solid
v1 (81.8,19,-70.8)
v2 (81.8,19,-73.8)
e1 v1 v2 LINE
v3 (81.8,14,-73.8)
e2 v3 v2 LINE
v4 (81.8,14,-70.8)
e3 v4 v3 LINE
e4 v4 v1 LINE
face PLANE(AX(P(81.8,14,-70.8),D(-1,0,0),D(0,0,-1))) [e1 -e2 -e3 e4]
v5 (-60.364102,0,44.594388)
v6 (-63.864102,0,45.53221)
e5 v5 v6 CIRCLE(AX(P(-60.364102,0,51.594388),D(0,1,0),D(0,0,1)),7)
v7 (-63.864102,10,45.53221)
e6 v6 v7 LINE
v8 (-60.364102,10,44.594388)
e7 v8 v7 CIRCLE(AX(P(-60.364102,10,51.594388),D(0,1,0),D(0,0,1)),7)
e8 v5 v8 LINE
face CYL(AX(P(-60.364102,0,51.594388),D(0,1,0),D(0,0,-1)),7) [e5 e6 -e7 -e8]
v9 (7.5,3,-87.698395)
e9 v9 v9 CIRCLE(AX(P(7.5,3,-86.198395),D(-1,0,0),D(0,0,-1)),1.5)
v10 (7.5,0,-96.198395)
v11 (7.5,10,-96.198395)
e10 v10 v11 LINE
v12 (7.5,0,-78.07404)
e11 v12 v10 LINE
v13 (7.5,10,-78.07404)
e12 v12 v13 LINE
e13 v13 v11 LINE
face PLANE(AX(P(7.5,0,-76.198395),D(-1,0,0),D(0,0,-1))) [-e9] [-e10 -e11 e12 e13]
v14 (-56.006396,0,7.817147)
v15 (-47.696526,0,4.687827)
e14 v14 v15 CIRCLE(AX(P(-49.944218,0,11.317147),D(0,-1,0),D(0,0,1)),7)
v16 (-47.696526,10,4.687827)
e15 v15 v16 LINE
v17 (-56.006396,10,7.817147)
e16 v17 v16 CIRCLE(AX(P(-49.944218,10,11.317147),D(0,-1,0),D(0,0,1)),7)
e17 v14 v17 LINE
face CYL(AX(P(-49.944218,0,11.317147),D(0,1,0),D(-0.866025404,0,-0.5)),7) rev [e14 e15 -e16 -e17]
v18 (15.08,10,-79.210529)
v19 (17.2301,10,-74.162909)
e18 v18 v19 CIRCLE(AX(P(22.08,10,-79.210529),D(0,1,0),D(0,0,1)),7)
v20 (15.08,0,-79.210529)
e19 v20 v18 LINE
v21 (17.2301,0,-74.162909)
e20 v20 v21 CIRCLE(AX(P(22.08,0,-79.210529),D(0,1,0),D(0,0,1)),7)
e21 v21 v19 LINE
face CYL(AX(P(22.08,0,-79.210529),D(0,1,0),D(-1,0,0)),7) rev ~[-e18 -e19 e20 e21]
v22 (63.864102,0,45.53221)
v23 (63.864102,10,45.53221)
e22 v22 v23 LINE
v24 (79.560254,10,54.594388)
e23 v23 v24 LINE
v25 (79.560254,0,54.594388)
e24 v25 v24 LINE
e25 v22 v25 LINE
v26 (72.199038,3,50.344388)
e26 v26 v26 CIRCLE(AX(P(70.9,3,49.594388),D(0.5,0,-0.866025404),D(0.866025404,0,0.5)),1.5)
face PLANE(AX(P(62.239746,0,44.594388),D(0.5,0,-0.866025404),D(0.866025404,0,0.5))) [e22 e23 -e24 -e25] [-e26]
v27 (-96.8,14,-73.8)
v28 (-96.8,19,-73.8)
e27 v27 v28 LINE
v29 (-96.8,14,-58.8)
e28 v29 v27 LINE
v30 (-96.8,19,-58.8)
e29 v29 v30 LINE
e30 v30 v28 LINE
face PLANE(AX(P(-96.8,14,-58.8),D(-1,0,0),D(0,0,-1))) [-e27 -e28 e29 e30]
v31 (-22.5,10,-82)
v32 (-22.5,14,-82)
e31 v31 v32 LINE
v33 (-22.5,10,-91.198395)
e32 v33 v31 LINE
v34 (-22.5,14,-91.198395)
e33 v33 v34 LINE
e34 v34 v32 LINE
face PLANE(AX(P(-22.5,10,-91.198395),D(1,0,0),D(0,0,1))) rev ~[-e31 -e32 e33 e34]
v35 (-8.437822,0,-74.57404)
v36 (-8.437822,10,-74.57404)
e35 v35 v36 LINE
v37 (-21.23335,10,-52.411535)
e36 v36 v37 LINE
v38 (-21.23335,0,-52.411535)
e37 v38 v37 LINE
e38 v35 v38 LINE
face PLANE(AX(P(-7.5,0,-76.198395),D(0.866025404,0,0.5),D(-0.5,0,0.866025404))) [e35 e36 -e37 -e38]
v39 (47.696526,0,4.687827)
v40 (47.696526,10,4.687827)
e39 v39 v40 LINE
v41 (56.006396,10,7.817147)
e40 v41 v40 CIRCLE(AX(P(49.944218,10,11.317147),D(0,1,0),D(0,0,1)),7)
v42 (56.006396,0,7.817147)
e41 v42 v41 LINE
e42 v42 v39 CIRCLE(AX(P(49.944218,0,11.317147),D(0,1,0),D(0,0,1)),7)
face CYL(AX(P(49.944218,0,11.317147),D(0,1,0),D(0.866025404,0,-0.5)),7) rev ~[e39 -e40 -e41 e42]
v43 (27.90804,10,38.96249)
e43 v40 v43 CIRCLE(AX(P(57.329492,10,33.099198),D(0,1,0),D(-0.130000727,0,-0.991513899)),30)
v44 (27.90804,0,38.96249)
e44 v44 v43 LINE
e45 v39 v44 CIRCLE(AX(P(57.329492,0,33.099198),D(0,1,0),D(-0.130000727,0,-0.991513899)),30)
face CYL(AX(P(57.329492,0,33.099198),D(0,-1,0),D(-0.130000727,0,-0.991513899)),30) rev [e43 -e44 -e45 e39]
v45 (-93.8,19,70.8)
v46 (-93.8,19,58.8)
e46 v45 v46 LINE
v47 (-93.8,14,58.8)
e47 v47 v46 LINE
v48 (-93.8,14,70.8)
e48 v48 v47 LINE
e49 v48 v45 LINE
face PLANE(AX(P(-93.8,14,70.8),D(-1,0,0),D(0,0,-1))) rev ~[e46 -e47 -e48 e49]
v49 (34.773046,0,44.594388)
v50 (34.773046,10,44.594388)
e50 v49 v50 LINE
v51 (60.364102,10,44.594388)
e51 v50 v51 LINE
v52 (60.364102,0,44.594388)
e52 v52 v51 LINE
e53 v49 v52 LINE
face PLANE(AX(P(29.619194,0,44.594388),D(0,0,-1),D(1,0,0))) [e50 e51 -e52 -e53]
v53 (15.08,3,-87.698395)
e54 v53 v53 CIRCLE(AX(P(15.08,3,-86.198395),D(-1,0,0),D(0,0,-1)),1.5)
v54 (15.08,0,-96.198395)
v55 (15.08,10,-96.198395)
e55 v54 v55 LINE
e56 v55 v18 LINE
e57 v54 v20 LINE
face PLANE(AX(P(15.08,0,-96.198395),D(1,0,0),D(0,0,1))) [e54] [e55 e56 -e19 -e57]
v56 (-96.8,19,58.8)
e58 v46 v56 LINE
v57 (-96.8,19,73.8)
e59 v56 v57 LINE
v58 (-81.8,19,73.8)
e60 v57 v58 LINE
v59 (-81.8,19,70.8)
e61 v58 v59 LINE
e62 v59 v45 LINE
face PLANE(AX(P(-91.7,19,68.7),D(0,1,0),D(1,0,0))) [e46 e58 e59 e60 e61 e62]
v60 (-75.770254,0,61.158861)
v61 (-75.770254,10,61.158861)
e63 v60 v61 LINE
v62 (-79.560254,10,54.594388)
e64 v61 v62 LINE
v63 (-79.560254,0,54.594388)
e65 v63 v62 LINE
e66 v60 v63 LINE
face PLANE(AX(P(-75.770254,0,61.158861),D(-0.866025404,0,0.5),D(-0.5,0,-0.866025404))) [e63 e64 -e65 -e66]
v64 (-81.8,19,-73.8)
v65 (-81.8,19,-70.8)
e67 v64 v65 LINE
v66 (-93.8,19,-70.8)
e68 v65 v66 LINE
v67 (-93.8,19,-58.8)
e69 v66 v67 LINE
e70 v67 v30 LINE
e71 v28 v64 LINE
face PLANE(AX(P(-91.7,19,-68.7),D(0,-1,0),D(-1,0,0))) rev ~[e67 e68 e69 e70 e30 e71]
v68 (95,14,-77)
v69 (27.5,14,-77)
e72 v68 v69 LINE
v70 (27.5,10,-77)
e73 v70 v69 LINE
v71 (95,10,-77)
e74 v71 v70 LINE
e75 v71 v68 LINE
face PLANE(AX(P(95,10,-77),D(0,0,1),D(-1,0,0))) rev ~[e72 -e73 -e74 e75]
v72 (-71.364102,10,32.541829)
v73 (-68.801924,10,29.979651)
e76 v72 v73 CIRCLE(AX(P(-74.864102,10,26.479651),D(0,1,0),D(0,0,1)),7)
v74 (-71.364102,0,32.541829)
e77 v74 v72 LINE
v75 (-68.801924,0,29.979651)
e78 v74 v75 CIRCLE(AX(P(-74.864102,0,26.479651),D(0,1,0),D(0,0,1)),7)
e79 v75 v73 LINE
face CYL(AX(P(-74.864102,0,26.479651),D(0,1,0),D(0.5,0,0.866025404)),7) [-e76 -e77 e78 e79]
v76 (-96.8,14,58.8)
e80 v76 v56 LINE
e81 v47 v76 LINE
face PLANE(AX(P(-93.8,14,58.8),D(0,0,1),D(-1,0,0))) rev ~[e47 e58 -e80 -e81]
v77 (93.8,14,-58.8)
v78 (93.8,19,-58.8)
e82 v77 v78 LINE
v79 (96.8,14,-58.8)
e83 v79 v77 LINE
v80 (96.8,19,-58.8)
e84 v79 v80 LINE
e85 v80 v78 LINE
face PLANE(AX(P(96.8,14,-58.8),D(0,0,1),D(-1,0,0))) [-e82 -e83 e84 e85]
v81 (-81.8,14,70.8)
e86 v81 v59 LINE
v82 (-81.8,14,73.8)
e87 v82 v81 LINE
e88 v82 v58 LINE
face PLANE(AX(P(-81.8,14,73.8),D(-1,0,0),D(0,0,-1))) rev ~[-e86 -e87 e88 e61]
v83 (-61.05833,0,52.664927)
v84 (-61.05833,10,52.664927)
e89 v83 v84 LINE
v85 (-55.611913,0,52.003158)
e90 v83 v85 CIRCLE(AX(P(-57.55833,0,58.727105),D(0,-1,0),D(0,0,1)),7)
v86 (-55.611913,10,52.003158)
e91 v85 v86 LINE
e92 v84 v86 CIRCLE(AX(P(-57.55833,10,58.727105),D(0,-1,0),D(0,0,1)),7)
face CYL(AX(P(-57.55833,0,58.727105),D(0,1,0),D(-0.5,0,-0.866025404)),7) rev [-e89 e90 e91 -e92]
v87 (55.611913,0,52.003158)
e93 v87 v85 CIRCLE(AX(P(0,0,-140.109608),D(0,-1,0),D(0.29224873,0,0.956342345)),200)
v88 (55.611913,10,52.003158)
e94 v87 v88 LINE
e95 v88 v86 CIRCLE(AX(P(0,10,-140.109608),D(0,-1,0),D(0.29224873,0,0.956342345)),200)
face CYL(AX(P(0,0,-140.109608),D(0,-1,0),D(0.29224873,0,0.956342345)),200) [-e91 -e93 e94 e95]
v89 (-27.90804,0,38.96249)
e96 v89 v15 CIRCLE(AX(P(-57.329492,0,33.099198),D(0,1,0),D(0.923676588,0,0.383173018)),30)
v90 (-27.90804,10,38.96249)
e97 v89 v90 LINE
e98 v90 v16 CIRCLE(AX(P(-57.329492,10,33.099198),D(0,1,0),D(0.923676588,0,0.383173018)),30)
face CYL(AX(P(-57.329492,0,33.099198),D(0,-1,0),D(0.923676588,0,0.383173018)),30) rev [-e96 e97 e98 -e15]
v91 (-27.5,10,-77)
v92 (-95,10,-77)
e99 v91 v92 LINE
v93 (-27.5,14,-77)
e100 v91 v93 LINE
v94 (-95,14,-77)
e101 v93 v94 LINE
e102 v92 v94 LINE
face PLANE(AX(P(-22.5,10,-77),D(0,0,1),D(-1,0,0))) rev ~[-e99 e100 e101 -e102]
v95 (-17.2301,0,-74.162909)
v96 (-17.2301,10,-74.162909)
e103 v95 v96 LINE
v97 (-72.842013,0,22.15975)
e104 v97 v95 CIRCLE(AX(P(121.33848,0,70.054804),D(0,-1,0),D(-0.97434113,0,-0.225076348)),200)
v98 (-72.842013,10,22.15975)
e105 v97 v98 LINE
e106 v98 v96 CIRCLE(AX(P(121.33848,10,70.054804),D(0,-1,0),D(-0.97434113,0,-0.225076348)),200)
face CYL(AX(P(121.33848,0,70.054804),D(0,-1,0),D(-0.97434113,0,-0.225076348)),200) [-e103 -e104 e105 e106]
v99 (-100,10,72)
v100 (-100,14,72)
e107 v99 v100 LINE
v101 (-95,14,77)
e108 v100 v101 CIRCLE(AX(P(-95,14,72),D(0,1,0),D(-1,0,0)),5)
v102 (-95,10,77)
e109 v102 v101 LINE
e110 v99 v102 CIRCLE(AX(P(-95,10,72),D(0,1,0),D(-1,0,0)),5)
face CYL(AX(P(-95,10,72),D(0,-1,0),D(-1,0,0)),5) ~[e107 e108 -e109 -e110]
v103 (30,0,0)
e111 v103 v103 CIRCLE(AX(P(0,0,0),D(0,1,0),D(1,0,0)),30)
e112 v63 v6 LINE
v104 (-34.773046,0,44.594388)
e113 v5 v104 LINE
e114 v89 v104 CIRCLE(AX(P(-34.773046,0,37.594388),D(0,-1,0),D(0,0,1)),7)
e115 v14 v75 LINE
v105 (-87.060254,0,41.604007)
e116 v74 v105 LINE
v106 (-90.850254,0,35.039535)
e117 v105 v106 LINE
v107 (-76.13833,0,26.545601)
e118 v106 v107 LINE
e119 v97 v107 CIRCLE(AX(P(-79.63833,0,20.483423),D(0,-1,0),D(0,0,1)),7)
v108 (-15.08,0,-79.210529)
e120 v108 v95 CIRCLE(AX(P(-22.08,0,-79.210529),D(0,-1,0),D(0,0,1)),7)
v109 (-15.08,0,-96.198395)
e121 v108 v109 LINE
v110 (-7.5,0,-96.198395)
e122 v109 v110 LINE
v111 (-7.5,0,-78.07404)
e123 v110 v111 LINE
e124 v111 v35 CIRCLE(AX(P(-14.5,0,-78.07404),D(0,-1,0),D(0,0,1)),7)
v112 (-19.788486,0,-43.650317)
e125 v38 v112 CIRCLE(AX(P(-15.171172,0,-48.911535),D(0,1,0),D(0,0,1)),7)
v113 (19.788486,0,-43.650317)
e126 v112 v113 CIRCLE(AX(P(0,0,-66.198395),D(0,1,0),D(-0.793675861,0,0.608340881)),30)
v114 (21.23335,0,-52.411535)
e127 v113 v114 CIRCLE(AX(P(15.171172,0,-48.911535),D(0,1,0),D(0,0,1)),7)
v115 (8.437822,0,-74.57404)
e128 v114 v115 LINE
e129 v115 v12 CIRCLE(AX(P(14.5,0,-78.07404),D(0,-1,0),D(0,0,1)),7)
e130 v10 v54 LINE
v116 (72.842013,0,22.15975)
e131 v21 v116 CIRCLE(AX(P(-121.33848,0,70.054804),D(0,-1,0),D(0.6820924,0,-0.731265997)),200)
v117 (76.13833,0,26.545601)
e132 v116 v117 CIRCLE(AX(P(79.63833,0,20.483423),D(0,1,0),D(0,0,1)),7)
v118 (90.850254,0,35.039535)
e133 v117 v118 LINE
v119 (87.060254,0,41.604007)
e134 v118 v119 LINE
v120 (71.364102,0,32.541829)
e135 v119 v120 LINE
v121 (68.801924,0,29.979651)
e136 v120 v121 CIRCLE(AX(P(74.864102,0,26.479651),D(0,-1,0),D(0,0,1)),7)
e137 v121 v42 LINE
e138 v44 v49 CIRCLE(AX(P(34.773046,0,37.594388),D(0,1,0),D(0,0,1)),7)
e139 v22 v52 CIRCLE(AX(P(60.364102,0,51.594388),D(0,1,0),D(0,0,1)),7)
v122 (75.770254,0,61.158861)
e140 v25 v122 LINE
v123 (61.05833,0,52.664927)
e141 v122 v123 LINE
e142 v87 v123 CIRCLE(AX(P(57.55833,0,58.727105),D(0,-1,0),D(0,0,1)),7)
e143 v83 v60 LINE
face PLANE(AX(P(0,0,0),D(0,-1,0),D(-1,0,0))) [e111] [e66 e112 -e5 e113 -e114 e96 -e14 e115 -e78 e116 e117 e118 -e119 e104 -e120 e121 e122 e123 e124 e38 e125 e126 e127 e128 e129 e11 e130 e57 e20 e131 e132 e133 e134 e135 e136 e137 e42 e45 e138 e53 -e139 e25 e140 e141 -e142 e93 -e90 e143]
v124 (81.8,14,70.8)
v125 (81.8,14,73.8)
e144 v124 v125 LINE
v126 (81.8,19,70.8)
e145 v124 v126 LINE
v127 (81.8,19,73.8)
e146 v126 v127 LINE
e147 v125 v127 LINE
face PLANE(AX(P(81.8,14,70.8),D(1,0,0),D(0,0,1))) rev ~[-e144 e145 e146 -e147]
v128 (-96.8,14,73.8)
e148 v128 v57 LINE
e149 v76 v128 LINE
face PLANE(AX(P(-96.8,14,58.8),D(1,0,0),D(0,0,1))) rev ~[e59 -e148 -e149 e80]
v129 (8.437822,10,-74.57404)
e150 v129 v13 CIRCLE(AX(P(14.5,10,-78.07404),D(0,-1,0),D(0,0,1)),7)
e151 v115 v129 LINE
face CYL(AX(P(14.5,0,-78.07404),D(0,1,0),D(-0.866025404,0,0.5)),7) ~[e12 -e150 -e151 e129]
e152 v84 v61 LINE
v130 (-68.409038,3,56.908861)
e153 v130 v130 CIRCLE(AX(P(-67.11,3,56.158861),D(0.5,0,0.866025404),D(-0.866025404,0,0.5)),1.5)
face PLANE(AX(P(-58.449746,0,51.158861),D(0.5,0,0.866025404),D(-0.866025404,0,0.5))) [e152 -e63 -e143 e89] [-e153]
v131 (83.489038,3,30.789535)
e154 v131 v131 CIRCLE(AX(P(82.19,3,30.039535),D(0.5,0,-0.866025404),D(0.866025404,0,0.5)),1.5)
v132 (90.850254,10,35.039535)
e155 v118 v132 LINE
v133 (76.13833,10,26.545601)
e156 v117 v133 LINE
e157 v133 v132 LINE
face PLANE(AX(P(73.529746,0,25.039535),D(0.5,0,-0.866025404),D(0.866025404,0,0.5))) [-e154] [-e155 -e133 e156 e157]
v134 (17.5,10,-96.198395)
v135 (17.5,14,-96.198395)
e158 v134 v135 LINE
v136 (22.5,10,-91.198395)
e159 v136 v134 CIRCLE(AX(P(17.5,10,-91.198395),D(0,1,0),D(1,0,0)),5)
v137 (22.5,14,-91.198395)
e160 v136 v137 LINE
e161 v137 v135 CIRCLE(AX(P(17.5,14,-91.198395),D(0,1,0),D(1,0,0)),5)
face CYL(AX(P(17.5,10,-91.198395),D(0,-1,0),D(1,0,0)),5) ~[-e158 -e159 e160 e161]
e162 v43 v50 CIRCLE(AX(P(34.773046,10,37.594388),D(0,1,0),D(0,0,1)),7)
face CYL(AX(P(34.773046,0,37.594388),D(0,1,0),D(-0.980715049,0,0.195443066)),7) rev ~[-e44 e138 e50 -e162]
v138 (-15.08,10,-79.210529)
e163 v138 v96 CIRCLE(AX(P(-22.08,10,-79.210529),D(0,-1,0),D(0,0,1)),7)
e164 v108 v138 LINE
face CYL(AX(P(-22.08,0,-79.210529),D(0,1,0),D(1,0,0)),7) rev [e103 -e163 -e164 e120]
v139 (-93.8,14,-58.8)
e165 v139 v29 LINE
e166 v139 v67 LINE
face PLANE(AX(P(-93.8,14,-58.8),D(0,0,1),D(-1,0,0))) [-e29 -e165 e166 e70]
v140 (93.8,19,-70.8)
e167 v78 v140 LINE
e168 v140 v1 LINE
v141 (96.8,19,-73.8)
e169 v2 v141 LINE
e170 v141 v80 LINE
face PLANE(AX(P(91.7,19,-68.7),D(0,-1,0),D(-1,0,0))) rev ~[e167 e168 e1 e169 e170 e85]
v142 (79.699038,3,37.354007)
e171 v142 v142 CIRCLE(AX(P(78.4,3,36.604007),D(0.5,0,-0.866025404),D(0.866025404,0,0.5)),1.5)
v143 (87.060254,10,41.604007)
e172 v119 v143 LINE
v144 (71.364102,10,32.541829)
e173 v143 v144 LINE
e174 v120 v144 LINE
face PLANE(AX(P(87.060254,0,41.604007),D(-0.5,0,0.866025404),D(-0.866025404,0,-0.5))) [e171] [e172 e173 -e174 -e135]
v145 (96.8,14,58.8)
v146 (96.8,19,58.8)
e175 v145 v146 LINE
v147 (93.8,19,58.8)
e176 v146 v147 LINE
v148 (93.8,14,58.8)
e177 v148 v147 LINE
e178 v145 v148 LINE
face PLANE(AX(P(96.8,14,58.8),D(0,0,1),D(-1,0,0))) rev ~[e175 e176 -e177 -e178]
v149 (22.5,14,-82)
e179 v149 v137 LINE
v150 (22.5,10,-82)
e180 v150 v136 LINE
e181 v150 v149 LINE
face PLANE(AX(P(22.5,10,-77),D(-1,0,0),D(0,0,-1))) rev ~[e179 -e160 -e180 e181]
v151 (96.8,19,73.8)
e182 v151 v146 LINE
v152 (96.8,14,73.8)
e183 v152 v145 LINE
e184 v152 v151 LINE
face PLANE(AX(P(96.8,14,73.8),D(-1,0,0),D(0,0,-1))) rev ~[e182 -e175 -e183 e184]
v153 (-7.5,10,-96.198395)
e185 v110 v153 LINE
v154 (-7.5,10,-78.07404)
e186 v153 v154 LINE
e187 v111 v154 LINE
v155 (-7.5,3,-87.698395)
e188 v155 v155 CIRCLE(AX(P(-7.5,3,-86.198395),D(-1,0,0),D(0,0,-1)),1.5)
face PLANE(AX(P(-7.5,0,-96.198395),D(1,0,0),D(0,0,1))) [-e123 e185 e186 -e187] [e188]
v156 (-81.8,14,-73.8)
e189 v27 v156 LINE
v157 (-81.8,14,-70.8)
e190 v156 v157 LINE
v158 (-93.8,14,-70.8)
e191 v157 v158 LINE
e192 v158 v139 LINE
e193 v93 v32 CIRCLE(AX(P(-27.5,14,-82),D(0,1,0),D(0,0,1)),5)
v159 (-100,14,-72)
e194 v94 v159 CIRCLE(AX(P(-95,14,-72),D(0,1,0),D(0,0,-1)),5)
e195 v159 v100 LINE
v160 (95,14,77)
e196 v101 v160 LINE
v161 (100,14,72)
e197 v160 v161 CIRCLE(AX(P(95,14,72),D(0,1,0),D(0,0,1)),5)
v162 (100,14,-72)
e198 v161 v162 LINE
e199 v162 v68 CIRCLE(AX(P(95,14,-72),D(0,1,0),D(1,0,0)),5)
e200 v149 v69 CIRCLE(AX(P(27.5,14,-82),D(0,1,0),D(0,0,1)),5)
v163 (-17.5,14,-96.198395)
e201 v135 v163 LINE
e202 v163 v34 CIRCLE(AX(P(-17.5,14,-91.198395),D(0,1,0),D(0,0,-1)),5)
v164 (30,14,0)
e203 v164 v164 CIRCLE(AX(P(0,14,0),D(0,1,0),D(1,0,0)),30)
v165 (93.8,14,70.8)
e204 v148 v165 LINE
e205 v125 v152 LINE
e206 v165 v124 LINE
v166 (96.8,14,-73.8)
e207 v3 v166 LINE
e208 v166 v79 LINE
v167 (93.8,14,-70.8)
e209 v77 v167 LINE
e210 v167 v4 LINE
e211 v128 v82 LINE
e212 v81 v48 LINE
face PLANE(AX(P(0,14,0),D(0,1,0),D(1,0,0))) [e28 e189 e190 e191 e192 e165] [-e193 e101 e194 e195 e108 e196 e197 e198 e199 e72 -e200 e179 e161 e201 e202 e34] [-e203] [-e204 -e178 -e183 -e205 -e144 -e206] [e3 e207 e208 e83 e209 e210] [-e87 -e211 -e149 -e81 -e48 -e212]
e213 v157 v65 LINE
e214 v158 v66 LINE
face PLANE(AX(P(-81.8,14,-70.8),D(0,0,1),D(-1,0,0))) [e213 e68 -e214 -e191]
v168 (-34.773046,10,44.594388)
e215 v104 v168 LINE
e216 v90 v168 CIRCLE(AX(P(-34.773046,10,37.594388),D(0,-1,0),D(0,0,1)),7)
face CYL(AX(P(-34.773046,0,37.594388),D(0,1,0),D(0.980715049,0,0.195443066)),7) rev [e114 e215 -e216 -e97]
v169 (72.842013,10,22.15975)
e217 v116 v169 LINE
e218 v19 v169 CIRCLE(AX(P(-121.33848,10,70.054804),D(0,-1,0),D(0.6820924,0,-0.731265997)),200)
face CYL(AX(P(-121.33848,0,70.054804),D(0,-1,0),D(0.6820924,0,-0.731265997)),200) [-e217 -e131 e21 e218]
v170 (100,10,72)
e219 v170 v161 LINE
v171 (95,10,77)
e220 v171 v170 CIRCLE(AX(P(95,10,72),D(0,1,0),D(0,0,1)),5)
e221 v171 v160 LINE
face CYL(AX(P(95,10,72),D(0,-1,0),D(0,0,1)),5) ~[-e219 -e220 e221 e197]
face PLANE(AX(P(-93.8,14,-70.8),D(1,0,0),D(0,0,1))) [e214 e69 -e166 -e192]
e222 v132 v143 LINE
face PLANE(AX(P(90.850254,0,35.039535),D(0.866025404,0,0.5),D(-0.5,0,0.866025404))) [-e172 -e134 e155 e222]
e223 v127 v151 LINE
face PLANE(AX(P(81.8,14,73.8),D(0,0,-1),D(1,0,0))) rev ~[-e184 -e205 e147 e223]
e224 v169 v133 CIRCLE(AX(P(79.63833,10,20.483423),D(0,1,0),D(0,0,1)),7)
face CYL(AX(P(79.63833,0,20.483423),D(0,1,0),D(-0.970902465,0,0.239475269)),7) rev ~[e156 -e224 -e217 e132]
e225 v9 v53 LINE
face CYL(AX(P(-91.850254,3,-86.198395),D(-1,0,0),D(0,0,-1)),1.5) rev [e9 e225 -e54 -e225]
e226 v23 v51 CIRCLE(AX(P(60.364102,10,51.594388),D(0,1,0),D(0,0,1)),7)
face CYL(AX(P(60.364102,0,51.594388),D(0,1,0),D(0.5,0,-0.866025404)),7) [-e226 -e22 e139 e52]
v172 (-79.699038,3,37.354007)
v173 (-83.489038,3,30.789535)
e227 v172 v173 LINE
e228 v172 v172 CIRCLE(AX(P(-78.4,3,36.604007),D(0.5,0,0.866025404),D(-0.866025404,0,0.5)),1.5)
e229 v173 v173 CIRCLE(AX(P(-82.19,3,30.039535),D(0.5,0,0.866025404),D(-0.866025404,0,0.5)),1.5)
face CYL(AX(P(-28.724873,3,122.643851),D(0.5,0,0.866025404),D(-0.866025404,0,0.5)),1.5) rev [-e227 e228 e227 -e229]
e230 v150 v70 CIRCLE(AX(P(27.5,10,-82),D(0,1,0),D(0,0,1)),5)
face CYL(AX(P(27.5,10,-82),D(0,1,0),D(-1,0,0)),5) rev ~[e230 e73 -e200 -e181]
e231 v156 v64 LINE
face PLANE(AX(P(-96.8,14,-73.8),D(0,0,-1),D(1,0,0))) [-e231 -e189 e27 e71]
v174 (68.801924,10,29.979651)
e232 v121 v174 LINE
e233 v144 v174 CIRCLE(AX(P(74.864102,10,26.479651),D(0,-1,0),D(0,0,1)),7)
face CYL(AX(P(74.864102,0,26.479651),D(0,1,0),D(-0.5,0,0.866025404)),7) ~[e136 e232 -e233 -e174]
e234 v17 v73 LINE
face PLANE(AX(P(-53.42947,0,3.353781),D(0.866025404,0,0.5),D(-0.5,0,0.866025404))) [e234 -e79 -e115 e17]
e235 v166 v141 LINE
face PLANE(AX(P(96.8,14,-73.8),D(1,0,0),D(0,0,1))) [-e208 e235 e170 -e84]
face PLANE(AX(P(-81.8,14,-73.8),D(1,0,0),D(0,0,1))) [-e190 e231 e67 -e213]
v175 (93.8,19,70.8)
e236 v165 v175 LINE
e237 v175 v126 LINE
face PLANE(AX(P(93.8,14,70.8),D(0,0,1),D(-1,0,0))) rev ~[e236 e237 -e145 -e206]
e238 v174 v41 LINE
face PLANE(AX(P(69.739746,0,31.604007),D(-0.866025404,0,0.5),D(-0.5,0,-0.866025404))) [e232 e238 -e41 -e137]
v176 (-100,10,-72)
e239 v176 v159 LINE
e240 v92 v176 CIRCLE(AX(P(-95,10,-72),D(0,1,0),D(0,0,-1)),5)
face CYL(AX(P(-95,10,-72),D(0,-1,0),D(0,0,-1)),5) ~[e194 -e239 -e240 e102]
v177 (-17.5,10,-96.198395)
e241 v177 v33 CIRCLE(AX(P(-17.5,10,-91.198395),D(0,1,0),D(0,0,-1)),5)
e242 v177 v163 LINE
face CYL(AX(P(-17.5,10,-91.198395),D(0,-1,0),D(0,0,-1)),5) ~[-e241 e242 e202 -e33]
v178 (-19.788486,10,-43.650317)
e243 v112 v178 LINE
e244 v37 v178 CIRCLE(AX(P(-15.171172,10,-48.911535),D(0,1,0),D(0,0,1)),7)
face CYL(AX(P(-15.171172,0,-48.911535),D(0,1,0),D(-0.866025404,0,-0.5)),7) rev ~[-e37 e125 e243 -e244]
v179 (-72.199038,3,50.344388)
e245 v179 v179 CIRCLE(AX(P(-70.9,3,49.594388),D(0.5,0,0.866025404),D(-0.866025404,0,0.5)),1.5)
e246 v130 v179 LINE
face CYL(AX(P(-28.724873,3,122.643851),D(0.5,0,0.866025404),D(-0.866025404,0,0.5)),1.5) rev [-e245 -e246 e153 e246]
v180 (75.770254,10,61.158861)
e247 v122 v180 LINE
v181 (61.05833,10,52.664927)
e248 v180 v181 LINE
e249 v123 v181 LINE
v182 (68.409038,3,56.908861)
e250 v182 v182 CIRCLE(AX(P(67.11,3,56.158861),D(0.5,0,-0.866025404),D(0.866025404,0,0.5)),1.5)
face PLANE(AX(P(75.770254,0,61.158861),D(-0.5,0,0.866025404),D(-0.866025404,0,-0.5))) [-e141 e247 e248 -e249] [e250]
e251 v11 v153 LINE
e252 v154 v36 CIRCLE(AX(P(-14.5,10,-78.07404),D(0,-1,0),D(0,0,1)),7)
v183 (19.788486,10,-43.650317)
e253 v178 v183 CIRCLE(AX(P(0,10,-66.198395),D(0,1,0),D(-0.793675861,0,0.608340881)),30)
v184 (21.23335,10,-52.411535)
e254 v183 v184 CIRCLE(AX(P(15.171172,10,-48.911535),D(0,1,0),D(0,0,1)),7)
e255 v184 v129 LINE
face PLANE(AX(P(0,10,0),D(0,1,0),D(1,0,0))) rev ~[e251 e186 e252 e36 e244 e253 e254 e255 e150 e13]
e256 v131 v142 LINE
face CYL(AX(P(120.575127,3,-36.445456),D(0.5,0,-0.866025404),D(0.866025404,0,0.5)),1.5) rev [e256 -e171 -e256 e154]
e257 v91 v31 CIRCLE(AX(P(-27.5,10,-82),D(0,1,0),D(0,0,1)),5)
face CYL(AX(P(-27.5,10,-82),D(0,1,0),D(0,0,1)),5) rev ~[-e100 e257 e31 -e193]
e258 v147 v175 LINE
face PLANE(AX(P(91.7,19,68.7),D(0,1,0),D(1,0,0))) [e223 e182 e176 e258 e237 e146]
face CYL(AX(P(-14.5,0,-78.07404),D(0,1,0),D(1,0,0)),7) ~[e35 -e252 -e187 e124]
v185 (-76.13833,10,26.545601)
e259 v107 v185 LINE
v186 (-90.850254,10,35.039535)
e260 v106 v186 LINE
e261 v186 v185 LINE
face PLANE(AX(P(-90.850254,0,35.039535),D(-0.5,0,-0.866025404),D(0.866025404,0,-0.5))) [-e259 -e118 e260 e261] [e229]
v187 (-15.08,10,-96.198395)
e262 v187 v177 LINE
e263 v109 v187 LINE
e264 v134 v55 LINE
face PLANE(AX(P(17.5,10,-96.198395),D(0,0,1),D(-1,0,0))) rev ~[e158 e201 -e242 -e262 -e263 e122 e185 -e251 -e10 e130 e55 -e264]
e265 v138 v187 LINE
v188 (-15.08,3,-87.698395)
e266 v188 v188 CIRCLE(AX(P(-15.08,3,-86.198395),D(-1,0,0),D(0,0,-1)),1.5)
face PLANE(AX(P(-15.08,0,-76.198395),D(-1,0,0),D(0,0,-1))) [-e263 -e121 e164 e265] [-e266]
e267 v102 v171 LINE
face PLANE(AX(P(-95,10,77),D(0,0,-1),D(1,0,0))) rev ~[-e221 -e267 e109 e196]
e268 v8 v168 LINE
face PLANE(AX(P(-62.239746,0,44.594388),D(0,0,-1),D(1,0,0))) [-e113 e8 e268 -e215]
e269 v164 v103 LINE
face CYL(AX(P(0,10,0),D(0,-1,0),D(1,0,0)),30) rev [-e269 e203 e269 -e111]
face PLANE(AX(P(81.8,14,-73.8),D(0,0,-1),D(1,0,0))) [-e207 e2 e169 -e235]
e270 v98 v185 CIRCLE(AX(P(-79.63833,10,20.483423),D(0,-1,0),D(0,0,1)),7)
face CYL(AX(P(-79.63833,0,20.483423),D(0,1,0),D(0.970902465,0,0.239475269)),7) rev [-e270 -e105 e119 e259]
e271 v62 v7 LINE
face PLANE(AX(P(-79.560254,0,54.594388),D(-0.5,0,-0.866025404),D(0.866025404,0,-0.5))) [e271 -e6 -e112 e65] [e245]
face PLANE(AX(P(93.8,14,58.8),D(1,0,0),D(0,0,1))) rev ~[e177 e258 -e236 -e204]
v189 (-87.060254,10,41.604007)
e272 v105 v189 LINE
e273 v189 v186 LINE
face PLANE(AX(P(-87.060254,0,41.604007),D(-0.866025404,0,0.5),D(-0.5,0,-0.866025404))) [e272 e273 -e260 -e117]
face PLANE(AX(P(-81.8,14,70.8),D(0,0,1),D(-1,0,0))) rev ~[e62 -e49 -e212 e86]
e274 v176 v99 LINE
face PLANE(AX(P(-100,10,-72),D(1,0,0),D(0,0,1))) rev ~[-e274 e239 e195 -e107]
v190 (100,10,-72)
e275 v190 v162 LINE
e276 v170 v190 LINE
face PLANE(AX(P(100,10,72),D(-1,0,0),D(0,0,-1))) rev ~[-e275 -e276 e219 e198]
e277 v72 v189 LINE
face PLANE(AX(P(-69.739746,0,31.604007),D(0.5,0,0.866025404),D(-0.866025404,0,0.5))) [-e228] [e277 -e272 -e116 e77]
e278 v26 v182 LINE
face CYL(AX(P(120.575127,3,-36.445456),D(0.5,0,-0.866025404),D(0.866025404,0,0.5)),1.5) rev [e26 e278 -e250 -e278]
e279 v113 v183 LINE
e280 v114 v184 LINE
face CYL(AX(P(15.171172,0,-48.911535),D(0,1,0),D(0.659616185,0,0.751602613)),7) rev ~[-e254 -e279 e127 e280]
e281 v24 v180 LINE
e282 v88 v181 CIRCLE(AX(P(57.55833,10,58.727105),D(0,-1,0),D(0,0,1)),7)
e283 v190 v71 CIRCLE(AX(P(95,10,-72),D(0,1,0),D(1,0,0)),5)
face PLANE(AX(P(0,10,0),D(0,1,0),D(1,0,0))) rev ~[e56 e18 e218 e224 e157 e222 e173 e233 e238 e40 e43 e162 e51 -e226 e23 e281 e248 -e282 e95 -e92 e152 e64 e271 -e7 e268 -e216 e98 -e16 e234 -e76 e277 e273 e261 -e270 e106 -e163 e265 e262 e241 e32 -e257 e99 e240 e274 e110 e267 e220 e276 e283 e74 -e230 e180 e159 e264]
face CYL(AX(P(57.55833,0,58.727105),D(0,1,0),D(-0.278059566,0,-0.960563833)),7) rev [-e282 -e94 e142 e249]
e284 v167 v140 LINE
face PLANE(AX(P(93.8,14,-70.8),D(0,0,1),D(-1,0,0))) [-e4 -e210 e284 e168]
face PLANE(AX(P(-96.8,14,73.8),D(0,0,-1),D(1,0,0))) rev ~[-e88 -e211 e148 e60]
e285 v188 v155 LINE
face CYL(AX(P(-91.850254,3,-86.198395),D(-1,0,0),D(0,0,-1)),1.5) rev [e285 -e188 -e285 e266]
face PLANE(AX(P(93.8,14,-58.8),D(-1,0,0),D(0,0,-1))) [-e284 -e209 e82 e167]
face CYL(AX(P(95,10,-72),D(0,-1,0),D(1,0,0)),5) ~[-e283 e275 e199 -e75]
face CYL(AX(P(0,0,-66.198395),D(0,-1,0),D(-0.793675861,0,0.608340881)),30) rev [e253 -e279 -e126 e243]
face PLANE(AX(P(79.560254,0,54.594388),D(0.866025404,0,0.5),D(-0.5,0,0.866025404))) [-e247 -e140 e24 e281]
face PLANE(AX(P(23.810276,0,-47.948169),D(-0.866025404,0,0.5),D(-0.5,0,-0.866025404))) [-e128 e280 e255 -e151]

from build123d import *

# Parameters (mm, degrees)
SKETCH1_R           = 30
BOSS_EXTRUDE1_DEPTH = 10
CUT_EXTRUDE1_START  = -106.930254038
SKETCH2_R           = 1.5
CUT_EXTRUDE1_DEPTH  = 183.700508076
CIRPATTERN1_COUNT   = 3
CIRPATTERN1_ANGLE   = 240
FILLET1_R           = 7
SKETCH4_R           = 30
BOSS_EXTRUDE4_DEPTH = 4
BOSS_EXTRUDE5_DEPTH = 5
FILLET4_R           = 5


with BuildPart() as part:
    # Sketch1 → Boss-Extrude1 (new body)
    with BuildSketch(Plane(origin=(0, 0, 0), x_dir=(1, 0, 0), z_dir=(0, 1, 0))):
        with BuildLine():
            Line((-15.08, 76.19839519), (-15.08, 96.19839519))
            Line((-15.08, 96.19839519), (-7.5, 96.19839519))
            Line((-7.5, 96.19839519), (-7.5, 76.19839519))
            Line((-7.5, 76.19839519), (-23.810275834, 47.948168761))
            ThreePointArc((-23.810275834, 47.948168761), (0, 36.19839519), (23.810275834, 47.948168761))
            Line((23.810275834, 47.948168761), (7.5, 76.19839519))
            Line((7.5, 76.19839519), (7.5, 96.19839519))
            Line((7.5, 96.19839519), (15.08, 96.19839519))
            Line((15.08, 96.19839519), (15.08, 76.19839519))
            ThreePointArc((15.08, 76.19839519), (51.866600724, 29.94519589), (73.529745962, -25.039534506))
            Line((73.529745962, -25.039534506), (90.850254038, -35.039534506))
            Line((90.850254038, -35.039534506), (87.060254038, -41.604007067))
            Line((87.060254038, -41.604007067), (69.739745962, -31.604007067))
            Line((69.739745962, -31.604007067), (53.429470128, -3.353780637))
            ThreePointArc((53.429470128, -3.353780637), (31.348729811, -18.099197595), (29.619194295, -44.594388123))
            Line((29.619194295, -44.594388123), (62.239745962, -44.594388123))
            Line((62.239745962, -44.594388123), (79.560254038, -54.594388123))
            Line((79.560254038, -54.594388123), (75.770254038, -61.158860684))
            Line((75.770254038, -61.158860684), (58.449745962, -51.158860684))
            ThreePointArc((58.449745962, -51.158860684), (0, -59.89039178), (-58.449745962, -51.158860684))
            Line((-58.449745962, -51.158860684), (-75.770254038, -61.158860684))
            Line((-75.770254038, -61.158860684), (-79.560254038, -54.594388123))
            Line((-79.560254038, -54.594388123), (-62.239745962, -44.594388123))
            Line((-62.239745962, -44.594388123), (-29.619194295, -44.594388123))
            ThreePointArc((-29.619194295, -44.594388123), (-31.348729811, -18.099197595), (-53.429470128, -3.353780637))
            Line((-53.429470128, -3.353780637), (-69.739745962, -31.604007067))
            Line((-69.739745962, -31.604007067), (-87.060254038, -41.604007067))
            Line((-87.060254038, -41.604007067), (-90.850254038, -35.039534506))
            Line((-90.850254038, -35.039534506), (-73.529745962, -25.039534506))
            ThreePointArc((-73.529745962, -25.039534506), (-51.866600724, 29.94519589), (-15.08, 76.19839519))
        make_face()
        Circle(SKETCH1_R, mode=Mode.SUBTRACT)
    extrude(amount=BOSS_EXTRUDE1_DEPTH)

    # Sketch2 → Cut-Extrude1 (cut)
    with BuildSketch(Plane(origin=(15.08, 0, 0), x_dir=(0, 0, -1), z_dir=(1, 0, 0)).offset(CUT_EXTRUDE1_START)):
        with Locations((86.19839519, 3)):
            Circle(SKETCH2_R)
    cut_extrude1 = extrude(amount=CUT_EXTRUDE1_DEPTH, mode=Mode.SUBTRACT)

    # CirPattern1: Cut-Extrude1 ×3 about axis
    cirpattern1_axis = Axis((0, 10, 0), (0, -1, 0))
    for i in range(1, CIRPATTERN1_COUNT):
        add(cut_extrude1.rotate(cirpattern1_axis, i * CIRPATTERN1_ANGLE / (CIRPATTERN1_COUNT - 1)), mode=Mode.SUBTRACT)

    # Fillet1
    fillet1_edges = [part.edges().sort_by_distance(p)[0] for p in [
        (-69.739745962, 5, 31.604007067),
        (-73.529745962, 5, 25.039534506),
        (-15.08, 5, -76.19839519),
        (-7.5, 5, -76.19839519),
        (-23.810275834, 5, -47.948168761),
        (23.810275834, 5, -47.948168761),
        (7.5, 5, -76.19839519),
        (15.08, 5, -76.19839519),
        (73.529745962, 5, 25.039534506),
        (69.739745962, 5, 31.604007067),
        (53.429470128, 5, 3.353780637),
        (29.619194295, 5, 44.594388123),
        (62.239745962, 5, 44.594388123),
        (58.449745962, 5, 51.158860684),
        (-58.449745962, 5, 51.158860684),
        (-62.239745962, 5, 44.594388123),
        (-29.619194295, 5, 44.594388123),
        (-53.429470128, 5, 3.353780637),
    ]]
    fillet(fillet1_edges, radius=FILLET1_R)

    # Sketch4 → Boss-Extrude4 (add)
    with BuildSketch(Plane(origin=(0, 10, 0), x_dir=(1, 0, 0), z_dir=(0, 1, 0))):
        with BuildLine():
            Line((-95, -77), (95, -77))
            ThreePointArc((95, -77), (98.535533906, -75.535533906), (100, -72))
            Line((100, -72), (100, 72))
            ThreePointArc((100, 72), (98.535533906, 75.535533906), (95, 77))
            Line((95, 77), (-95, 77))
            ThreePointArc((-95, 77), (-98.535533906, 75.535533906), (-100, 72))
            Line((-100, 72), (-100, -72))
            ThreePointArc((-100, -72), (-98.535533906, -75.535533906), (-95, -77))
        make_face()
        Circle(SKETCH4_R, mode=Mode.SUBTRACT)
        with BuildLine():
            Line((-22.5, 77), (22.5, 77))
            Line((22.5, 77), (22.5, 91.19839519))
            ThreePointArc((22.5, 91.19839519), (21.035533906, 94.733929096), (17.5, 96.19839519))
            Line((17.5, 96.19839519), (-17.5, 96.19839519))
            ThreePointArc((-17.5, 96.19839519), (-21.035533906, 94.733929096), (-22.5, 91.19839519))
            Line((-22.5, 91.19839519), (-22.5, 77))
        make_face()
    extrude(amount=BOSS_EXTRUDE4_DEPTH)

    # Sketch5 → Boss-Extrude5 (add)
    with BuildSketch(Plane(origin=(0, 14, 0), x_dir=(1, 0, 0), z_dir=(0, 1, 0))):
        Polygon((-96.8, 73.8), (-81.8, 73.8), (-81.8, 70.8), (-93.8, 70.8), (-93.8, 58.8), (-96.8, 58.8), align=None)
        Polygon((93.8, 70.8), (81.8, 70.8), (81.8, 73.8), (96.8, 73.8), (96.8, 58.8), (93.8, 58.8), align=None)
        Polygon((93.8, -58.8), (93.8, -70.8), (81.8, -70.8), (81.8, -73.8), (96.8, -73.8), (96.8, -58.8), align=None)
        Polygon((-93.8, -58.8), (-96.8, -58.8), (-96.8, -73.8), (-81.8, -73.8), (-81.8, -70.8), (-93.8, -70.8), align=None)
    extrude(amount=BOSS_EXTRUDE5_DEPTH)

    # Fillet4
    fillet4_edges = [part.edges().sort_by_distance(p)[0] for p in [
        (-22.5, 12, -77),
        (22.5, 12, -77),
    ]]
    fillet(fillet4_edges, radius=FILLET4_R)


solid = part.part
